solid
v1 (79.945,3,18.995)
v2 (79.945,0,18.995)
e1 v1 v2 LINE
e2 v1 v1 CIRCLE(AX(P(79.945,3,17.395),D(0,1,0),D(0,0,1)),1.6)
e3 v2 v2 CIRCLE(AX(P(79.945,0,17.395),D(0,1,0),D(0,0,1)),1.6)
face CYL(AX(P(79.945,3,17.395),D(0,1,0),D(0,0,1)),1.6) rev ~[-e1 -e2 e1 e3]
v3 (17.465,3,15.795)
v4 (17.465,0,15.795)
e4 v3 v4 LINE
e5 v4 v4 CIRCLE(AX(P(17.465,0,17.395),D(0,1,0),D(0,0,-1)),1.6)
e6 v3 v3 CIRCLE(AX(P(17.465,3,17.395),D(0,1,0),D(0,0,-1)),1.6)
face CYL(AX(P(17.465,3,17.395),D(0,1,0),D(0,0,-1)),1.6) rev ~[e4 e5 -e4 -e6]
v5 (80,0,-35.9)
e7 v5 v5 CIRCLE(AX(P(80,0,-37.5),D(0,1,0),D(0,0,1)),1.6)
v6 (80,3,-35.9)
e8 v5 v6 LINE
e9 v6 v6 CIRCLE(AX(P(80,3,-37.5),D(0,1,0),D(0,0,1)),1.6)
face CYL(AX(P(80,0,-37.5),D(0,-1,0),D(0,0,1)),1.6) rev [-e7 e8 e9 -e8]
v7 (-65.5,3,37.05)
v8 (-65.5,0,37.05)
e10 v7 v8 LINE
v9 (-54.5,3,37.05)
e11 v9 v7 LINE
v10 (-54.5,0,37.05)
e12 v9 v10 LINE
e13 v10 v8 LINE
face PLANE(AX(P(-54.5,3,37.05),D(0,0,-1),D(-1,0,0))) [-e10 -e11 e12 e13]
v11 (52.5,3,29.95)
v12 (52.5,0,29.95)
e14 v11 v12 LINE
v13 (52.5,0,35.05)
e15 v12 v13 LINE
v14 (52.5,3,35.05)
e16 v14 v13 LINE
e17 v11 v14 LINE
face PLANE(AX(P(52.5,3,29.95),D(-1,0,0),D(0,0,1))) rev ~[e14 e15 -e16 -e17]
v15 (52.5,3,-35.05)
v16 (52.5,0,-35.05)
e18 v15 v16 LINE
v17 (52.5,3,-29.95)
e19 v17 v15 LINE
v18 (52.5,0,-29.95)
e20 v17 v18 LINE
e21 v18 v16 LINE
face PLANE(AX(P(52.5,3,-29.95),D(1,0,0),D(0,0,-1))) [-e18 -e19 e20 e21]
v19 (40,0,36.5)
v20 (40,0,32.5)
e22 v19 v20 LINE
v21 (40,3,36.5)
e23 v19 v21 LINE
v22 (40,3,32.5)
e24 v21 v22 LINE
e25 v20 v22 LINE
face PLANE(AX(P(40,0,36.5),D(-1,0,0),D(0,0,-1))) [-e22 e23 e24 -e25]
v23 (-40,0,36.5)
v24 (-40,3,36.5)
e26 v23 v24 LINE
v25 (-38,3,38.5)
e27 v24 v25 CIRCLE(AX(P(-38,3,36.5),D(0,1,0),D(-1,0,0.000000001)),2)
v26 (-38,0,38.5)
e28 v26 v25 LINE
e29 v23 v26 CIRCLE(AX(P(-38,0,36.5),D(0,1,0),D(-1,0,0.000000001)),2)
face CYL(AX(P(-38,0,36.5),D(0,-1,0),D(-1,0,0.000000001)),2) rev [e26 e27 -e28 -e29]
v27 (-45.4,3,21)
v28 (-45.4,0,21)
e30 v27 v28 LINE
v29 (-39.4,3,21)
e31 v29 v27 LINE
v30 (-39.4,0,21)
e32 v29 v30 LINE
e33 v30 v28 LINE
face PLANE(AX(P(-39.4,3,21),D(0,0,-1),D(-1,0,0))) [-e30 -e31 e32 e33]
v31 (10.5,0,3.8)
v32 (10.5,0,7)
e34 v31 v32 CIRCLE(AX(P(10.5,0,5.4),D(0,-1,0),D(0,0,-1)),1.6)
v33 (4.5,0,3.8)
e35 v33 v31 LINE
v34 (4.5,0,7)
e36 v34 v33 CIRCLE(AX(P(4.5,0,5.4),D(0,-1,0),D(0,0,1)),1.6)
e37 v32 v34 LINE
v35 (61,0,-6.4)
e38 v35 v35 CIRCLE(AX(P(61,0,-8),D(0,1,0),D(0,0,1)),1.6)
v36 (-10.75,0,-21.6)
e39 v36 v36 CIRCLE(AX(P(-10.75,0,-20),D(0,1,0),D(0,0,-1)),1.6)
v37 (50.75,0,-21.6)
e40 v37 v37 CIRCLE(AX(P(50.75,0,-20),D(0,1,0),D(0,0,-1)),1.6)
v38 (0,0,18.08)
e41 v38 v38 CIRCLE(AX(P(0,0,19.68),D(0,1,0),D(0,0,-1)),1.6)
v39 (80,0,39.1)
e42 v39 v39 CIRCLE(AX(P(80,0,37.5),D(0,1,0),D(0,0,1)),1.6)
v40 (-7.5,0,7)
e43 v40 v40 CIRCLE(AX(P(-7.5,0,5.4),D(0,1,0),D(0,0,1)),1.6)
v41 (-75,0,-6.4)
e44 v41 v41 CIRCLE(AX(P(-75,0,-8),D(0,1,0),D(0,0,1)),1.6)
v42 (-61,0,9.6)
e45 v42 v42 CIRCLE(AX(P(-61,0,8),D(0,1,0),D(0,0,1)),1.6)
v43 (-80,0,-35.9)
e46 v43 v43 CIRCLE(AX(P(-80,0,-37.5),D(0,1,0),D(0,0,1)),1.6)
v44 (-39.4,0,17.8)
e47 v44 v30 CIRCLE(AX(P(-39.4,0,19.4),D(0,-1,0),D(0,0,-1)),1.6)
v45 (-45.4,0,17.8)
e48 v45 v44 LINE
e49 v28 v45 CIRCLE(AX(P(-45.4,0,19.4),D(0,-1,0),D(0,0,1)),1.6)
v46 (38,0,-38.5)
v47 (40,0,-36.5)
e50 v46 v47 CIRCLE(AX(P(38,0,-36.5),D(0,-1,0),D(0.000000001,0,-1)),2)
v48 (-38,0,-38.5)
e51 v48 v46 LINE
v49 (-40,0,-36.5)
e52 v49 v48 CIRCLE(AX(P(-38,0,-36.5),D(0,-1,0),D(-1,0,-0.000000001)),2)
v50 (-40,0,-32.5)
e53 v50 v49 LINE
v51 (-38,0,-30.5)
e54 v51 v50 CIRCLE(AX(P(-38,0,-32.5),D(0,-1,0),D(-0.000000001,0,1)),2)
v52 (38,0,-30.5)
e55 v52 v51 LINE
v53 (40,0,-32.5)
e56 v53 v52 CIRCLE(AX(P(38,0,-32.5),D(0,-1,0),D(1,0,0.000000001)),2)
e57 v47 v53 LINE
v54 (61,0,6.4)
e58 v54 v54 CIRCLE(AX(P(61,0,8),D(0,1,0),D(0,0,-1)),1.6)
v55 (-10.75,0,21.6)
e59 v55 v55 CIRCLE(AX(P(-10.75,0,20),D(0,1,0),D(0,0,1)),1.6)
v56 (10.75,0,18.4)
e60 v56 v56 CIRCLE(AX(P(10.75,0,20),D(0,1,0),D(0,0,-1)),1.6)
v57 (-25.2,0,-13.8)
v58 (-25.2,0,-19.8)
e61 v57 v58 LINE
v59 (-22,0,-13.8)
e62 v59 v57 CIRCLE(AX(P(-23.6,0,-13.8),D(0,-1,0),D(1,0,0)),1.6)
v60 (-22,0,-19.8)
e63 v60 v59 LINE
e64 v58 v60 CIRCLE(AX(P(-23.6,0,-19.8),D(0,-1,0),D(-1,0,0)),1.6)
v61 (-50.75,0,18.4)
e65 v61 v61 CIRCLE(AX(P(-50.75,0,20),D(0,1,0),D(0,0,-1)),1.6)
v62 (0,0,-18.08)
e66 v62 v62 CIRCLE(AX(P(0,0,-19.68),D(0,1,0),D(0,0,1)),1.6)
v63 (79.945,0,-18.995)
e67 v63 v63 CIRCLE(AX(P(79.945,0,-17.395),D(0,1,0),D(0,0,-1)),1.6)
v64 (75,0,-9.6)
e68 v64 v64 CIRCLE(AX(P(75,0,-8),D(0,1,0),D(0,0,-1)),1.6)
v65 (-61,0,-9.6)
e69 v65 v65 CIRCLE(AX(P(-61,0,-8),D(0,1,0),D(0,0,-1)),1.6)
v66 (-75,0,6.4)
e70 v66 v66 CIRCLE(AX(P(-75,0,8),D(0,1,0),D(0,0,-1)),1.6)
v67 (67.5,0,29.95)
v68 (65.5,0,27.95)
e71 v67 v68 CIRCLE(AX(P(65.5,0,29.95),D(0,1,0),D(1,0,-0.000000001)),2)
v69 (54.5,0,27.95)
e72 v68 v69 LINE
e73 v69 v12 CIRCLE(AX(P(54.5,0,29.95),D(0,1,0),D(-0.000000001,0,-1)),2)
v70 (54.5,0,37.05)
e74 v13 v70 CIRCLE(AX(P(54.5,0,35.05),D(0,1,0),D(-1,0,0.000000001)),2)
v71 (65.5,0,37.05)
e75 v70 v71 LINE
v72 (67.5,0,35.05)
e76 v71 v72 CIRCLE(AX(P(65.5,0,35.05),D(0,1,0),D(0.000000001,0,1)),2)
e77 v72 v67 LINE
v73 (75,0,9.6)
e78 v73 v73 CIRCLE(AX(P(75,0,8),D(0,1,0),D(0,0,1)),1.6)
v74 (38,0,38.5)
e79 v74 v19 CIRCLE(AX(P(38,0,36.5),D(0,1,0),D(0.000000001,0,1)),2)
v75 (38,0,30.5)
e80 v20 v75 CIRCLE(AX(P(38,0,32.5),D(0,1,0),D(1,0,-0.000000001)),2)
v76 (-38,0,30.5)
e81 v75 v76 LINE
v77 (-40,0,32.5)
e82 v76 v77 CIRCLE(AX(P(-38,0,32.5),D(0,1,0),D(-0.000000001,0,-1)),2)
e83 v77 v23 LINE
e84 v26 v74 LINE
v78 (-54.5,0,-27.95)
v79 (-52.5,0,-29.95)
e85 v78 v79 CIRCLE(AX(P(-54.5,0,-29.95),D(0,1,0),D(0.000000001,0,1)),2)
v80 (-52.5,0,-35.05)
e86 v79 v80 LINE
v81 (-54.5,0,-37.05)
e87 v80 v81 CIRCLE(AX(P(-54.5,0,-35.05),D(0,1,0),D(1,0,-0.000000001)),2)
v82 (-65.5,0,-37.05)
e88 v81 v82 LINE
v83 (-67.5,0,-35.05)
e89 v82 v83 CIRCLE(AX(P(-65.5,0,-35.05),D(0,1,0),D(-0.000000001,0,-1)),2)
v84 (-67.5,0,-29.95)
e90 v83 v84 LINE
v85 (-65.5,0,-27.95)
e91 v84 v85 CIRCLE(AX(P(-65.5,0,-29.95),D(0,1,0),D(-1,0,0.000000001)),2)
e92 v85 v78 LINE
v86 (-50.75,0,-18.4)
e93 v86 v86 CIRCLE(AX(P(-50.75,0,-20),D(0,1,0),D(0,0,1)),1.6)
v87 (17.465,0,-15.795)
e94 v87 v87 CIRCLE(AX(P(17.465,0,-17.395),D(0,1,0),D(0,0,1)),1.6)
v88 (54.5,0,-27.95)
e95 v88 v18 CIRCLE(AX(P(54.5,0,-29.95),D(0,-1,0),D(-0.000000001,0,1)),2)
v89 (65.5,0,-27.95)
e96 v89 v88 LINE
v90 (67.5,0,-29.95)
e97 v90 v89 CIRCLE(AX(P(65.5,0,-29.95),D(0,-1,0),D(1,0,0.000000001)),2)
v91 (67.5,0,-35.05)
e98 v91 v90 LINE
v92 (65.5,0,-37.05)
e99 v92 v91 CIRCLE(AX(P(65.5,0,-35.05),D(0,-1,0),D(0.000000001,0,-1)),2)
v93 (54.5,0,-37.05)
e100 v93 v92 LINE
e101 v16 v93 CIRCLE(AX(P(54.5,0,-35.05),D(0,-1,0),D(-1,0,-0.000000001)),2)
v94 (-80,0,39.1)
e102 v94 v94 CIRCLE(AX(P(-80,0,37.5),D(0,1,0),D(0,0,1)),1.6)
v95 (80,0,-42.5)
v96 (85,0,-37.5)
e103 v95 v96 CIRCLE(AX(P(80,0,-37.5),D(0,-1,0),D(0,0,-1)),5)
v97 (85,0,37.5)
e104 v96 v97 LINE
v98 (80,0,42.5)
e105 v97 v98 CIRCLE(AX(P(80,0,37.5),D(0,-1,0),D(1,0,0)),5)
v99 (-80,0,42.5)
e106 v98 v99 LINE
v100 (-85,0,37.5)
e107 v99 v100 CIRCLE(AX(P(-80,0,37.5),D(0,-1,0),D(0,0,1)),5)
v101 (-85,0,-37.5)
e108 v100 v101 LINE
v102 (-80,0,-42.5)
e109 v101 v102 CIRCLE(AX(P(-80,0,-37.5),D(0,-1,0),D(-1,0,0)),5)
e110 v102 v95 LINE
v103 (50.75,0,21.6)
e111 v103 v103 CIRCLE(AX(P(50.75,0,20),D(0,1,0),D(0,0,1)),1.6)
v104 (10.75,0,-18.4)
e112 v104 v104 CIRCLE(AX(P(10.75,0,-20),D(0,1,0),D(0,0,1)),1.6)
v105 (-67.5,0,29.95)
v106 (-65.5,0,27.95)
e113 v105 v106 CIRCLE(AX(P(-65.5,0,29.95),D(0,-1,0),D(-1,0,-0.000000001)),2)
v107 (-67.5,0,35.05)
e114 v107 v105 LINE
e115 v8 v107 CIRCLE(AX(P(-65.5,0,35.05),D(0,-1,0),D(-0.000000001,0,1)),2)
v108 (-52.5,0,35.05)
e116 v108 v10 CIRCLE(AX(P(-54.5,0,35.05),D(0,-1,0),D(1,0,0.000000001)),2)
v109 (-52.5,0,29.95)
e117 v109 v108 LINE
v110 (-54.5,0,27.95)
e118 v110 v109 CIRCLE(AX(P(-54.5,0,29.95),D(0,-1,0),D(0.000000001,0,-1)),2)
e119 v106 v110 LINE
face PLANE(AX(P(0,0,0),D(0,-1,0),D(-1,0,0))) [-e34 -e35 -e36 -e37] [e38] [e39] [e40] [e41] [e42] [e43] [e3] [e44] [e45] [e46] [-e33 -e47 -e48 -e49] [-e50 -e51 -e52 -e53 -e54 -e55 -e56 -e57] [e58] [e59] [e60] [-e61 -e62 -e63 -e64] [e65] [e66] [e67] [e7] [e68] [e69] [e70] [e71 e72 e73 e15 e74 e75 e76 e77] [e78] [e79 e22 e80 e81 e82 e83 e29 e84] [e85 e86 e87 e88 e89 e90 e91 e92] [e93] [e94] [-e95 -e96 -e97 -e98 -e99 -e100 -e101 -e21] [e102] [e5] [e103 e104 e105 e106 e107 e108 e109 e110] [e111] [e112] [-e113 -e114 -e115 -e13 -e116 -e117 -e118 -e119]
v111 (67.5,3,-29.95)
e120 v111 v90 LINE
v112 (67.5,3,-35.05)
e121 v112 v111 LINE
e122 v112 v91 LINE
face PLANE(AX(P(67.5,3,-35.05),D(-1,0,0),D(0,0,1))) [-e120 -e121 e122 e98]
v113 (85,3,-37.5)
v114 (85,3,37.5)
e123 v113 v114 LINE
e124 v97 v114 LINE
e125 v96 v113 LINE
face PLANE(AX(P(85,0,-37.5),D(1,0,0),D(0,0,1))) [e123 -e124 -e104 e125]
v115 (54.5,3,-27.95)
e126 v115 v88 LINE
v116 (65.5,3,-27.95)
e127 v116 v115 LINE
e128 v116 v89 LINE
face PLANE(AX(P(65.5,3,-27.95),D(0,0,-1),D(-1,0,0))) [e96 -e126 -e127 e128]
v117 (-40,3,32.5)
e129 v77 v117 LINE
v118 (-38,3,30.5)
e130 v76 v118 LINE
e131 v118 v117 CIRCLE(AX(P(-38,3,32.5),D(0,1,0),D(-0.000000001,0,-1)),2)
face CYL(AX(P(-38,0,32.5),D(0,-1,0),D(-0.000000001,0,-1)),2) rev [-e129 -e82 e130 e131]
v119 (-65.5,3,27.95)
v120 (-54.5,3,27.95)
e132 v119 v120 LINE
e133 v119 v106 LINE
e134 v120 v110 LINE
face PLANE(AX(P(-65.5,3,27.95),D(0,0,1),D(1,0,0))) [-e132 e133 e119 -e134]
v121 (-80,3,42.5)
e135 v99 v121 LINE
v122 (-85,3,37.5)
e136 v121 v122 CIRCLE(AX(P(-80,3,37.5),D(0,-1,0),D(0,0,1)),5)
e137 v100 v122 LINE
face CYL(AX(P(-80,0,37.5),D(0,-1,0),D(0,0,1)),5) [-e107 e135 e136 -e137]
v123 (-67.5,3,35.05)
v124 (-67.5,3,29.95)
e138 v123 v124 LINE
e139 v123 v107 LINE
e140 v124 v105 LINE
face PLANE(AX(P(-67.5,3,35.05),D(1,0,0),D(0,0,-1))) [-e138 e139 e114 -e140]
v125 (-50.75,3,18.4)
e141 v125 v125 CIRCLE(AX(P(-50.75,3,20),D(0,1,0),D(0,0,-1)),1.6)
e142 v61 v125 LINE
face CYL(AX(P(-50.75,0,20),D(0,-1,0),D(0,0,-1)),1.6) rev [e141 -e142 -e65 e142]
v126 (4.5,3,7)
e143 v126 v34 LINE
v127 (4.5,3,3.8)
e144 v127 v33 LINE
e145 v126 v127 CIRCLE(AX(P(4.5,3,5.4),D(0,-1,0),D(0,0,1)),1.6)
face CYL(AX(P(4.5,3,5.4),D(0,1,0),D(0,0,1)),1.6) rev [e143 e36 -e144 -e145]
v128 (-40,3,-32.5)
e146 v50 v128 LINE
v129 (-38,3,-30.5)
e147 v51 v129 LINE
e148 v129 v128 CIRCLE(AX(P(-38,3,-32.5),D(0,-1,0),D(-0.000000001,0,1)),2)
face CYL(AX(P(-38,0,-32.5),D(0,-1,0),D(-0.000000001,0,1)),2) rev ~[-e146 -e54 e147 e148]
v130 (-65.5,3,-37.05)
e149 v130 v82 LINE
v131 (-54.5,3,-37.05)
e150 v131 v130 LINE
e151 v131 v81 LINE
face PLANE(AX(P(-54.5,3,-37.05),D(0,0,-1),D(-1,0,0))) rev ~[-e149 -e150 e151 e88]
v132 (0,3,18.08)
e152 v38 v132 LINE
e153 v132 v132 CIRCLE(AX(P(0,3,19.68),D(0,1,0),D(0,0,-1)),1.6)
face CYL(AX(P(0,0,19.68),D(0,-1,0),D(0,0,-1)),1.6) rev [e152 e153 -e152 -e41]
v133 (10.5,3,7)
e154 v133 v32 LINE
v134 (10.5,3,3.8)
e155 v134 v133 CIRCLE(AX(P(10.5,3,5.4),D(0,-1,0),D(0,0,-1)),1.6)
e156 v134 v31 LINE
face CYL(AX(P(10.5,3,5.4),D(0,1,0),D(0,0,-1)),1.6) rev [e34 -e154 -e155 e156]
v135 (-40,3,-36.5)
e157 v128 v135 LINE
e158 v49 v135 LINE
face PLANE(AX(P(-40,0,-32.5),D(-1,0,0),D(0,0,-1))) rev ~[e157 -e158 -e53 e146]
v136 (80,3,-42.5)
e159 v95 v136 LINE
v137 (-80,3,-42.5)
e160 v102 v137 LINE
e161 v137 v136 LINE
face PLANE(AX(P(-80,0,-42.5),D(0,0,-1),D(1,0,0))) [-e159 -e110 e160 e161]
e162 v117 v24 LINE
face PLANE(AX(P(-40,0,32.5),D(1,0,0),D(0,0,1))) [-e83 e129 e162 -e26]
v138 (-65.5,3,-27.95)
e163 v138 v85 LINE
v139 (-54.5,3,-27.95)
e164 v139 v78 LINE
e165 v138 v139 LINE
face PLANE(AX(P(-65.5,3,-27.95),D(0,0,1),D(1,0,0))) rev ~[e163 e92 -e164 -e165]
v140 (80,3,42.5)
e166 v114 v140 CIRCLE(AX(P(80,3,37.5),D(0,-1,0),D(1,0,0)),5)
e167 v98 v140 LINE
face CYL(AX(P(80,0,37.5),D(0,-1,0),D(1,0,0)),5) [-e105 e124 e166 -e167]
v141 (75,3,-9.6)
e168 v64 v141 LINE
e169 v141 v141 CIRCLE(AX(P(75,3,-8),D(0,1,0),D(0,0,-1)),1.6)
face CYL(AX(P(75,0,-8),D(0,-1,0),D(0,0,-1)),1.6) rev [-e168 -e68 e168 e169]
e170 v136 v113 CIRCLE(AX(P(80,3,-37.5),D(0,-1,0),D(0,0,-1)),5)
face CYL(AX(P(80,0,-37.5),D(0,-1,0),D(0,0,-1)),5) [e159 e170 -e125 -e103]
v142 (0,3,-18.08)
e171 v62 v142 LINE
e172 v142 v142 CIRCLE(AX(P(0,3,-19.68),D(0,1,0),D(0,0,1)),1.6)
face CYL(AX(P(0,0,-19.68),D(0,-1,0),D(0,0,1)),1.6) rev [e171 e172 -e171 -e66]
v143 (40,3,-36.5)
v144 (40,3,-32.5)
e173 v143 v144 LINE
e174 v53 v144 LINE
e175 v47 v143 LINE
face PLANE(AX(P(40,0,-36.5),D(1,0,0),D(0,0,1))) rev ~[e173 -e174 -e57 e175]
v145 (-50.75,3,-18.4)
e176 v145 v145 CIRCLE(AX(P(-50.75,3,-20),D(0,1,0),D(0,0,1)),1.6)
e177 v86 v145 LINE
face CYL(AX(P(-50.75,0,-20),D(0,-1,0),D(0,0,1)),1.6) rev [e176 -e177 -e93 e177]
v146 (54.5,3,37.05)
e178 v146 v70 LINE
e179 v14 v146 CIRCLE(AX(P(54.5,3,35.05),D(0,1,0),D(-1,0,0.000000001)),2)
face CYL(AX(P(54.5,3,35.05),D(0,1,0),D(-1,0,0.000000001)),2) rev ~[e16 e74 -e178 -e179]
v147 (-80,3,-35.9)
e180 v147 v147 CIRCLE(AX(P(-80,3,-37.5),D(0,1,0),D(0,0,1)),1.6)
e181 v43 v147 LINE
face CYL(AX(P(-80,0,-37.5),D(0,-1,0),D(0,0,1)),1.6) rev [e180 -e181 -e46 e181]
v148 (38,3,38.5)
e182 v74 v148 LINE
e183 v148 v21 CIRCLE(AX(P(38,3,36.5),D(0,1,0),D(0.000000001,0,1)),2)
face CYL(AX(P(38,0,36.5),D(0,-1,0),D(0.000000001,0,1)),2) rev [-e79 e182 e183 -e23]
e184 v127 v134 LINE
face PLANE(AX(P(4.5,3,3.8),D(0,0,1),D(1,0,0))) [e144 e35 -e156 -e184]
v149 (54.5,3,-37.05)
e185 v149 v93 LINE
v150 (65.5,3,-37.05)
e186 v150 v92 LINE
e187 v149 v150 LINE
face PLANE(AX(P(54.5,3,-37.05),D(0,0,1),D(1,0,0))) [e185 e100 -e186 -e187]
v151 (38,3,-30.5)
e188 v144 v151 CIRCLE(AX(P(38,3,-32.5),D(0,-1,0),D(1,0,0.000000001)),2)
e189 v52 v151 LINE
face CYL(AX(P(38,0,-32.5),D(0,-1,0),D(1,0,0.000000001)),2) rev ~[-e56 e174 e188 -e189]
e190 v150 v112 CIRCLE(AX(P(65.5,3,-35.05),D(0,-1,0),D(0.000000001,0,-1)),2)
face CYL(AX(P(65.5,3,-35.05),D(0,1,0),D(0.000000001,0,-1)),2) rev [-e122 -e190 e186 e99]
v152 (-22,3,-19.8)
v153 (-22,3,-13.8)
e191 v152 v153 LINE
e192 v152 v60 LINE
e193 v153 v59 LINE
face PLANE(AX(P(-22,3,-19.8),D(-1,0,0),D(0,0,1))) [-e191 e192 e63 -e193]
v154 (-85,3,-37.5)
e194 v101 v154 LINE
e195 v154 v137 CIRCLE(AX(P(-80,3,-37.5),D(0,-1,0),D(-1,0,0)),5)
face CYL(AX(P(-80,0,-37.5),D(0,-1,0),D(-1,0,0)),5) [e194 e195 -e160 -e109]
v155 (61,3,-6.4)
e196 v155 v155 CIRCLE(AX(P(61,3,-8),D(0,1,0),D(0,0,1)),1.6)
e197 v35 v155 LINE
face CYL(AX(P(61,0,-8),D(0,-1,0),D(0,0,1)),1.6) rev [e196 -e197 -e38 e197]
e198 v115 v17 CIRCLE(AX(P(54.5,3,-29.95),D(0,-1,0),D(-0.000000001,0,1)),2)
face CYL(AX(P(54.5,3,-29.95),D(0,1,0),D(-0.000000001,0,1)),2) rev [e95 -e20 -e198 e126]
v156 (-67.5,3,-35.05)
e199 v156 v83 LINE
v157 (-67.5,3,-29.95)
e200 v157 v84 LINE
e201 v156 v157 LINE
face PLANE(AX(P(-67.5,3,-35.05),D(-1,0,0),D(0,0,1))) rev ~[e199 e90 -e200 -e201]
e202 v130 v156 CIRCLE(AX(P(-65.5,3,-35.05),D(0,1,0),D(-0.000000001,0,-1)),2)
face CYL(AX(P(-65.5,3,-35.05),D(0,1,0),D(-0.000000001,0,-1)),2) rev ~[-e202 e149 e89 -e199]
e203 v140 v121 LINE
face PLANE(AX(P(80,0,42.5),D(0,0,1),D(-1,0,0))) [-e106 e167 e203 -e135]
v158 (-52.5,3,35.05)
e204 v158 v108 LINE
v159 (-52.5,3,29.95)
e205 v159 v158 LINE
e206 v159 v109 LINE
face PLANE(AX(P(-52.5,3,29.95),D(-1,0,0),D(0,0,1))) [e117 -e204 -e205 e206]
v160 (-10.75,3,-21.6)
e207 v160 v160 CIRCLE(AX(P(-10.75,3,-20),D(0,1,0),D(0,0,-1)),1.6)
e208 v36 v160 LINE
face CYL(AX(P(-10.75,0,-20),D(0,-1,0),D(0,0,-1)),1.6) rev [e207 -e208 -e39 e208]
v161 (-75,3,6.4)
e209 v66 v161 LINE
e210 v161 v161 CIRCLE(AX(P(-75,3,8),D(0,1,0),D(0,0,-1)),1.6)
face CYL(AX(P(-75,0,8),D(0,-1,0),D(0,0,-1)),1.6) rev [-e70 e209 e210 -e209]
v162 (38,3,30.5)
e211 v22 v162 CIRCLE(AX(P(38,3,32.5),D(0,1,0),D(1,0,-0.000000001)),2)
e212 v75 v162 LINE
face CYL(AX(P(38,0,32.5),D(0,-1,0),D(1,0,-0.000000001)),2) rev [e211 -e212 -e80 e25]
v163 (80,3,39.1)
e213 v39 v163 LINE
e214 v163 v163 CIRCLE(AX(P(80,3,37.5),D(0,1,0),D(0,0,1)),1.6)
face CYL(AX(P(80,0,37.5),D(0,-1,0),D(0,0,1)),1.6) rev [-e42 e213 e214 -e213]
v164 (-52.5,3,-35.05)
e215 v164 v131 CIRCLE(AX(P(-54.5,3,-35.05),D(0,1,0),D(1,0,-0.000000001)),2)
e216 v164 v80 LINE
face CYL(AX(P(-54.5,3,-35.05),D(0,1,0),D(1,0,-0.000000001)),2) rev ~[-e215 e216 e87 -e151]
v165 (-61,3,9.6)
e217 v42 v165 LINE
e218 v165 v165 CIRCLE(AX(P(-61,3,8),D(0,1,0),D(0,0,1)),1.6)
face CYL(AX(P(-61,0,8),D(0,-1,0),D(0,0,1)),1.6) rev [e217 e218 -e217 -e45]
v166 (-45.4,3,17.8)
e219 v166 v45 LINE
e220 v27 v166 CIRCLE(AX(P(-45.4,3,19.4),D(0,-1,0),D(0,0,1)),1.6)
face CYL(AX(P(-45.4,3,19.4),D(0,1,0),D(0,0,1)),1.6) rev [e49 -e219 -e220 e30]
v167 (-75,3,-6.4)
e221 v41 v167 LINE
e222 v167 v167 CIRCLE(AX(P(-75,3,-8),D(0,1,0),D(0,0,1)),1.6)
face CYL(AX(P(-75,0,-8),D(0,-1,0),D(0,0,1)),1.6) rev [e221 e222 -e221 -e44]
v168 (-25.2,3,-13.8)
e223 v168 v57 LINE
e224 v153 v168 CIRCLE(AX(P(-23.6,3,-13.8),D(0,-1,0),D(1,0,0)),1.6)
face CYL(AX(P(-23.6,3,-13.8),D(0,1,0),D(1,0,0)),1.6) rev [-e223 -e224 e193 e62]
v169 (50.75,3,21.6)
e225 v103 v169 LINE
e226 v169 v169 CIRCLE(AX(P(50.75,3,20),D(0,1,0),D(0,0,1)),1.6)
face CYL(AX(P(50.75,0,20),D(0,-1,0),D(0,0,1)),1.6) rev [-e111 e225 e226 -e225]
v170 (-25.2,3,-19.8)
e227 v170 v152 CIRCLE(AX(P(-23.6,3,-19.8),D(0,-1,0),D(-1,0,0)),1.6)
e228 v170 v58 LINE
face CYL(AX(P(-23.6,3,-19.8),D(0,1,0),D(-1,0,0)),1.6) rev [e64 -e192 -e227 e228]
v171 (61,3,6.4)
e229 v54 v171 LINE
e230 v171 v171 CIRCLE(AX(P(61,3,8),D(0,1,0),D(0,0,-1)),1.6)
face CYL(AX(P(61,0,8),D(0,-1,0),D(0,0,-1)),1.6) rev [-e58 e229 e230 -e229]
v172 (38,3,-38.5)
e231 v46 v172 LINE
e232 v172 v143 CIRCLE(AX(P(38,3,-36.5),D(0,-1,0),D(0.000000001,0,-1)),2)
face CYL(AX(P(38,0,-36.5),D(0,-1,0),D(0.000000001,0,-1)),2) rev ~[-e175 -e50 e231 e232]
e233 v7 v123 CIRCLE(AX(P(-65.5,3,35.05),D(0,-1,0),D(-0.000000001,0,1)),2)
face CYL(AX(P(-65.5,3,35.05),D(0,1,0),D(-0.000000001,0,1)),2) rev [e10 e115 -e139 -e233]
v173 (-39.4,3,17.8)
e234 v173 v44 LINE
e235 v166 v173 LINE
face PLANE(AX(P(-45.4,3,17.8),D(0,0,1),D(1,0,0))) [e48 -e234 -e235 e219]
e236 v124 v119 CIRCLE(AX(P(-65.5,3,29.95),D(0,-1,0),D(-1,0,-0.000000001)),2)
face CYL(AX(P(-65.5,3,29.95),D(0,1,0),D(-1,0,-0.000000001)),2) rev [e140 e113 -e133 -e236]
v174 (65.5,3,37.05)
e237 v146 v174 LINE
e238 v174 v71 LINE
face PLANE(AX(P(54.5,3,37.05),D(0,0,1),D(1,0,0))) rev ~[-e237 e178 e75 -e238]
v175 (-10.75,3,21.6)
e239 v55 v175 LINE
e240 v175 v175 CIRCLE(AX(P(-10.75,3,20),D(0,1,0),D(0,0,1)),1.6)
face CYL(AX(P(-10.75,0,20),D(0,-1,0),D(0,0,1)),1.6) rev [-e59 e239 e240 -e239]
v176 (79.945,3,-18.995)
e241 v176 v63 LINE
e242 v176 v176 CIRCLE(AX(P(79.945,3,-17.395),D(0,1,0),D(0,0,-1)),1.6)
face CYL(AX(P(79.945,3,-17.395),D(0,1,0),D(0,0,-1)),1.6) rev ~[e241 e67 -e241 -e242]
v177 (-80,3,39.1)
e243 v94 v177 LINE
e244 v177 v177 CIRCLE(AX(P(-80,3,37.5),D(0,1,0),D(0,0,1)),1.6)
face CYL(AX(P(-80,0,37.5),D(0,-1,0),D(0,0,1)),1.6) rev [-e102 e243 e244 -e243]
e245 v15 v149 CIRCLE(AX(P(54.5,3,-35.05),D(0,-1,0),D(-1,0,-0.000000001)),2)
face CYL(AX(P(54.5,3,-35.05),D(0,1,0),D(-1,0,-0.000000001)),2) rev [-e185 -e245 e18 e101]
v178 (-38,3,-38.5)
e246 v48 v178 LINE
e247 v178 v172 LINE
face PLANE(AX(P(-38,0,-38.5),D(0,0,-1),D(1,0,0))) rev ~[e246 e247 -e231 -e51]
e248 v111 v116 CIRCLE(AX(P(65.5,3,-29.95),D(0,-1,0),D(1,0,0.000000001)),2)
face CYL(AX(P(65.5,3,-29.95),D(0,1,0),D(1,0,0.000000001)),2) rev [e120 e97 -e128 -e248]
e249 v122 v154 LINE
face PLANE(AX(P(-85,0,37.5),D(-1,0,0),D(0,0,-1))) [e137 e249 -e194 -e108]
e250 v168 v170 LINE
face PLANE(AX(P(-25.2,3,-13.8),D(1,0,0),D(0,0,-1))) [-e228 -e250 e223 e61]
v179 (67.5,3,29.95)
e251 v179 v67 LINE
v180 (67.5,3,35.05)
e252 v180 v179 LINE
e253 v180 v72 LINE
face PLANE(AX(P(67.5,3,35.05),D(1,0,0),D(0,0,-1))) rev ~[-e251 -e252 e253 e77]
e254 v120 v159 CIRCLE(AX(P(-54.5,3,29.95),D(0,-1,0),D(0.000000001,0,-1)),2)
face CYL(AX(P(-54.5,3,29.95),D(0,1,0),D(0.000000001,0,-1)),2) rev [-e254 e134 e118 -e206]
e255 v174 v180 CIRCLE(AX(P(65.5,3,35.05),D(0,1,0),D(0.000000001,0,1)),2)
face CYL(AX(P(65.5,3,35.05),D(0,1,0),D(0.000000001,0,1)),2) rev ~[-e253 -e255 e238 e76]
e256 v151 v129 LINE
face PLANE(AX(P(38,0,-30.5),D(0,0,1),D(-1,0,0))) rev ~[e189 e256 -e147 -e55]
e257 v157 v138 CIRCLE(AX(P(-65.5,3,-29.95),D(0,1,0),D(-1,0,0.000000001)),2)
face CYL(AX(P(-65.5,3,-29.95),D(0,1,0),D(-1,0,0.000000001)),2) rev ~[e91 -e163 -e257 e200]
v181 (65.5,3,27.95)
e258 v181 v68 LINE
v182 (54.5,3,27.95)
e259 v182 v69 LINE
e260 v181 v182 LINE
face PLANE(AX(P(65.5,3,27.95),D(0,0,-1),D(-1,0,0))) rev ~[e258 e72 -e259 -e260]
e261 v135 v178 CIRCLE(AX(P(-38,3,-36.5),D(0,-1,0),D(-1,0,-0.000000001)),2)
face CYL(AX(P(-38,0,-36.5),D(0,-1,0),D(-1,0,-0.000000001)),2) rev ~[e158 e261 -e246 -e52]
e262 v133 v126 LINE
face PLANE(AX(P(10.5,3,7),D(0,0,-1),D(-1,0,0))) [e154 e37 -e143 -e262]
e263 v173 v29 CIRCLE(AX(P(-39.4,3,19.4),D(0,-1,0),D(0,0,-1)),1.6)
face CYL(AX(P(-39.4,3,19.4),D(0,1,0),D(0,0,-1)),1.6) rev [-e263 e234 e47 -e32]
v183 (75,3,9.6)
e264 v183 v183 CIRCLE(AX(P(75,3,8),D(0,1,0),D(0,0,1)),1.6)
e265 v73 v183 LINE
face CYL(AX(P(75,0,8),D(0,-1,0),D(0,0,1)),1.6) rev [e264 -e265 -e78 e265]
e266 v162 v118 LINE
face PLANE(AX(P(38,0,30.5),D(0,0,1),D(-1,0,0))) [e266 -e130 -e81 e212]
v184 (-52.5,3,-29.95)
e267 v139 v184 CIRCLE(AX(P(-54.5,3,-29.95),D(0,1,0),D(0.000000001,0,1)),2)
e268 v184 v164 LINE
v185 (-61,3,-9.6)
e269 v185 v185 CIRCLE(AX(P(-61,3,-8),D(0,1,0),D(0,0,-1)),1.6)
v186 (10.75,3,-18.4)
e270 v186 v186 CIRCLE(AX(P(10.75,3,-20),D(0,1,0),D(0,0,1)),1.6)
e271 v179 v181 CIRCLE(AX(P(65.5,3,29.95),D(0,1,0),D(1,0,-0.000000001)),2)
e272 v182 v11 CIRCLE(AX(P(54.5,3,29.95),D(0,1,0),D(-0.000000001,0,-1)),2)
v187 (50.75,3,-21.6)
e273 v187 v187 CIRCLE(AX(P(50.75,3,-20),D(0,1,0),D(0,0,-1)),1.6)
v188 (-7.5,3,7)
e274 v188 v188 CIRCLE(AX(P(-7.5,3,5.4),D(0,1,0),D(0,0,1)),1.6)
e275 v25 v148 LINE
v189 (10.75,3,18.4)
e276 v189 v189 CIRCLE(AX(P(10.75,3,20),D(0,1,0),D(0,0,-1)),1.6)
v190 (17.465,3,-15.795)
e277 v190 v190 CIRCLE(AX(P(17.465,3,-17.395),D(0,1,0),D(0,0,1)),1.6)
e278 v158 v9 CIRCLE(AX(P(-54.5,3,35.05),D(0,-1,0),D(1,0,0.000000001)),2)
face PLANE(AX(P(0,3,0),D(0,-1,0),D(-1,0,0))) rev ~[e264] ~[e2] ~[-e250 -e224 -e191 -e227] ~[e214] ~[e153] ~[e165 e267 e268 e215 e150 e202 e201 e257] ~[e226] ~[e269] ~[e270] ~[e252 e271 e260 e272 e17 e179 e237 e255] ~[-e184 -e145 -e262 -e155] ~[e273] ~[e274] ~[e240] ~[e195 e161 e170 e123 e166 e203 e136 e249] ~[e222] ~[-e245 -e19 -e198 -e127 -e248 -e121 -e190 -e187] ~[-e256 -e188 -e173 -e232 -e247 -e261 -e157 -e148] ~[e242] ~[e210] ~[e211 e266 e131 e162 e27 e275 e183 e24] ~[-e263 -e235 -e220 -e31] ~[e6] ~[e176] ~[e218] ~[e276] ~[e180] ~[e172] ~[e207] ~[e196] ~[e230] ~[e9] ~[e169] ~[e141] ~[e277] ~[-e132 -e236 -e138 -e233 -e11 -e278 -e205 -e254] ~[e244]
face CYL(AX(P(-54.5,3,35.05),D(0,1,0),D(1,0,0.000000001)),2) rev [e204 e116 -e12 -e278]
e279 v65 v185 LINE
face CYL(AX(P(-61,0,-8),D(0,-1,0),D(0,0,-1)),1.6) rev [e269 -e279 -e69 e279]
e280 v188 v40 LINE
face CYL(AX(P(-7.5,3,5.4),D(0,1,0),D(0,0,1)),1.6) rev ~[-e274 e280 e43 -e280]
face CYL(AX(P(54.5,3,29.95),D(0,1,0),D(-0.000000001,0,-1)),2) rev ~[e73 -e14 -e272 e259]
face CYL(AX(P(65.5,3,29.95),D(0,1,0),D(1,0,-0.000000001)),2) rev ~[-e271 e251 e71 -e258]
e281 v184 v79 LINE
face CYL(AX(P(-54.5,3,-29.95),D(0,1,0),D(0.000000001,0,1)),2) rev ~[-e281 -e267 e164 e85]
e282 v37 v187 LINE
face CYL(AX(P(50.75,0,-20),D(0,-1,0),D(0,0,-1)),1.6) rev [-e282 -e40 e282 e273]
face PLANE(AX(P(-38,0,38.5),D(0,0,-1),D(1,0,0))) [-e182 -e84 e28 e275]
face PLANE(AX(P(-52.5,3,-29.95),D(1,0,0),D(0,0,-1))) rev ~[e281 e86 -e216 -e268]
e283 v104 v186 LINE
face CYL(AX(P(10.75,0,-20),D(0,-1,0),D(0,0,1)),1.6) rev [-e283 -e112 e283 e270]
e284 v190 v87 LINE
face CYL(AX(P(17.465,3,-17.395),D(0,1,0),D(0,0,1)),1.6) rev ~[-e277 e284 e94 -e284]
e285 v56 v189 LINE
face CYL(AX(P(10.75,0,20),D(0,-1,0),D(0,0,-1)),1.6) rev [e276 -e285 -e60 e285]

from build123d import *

# Parameters (mm, degrees)
SKETCH1_R           = 1.6
BOSS_EXTRUDE1_DEPTH = 3
CUT_EXTRUDE1_DEPTH  = 3
SKETCH3_R           = 1.6
CUT_EXTRUDE2_DEPTH  = 3


with BuildPart() as part:
    # Sketch1 → Boss-Extrude1 (new body)
    with BuildSketch(Plane(origin=(0, 0, 0), x_dir=(1, 0, 0), z_dir=(0, 1, 0))):
        with BuildLine():
            Line((-80, 42.5), (80, 42.5))
            ThreePointArc((80, 42.5), (83.535533906, 41.035533906), (85, 37.5))
            Line((85, 37.5), (85, -37.5))
            ThreePointArc((85, -37.5), (83.535533906, -41.035533906), (80, -42.5))
            Line((80, -42.5), (-80, -42.5))
            ThreePointArc((-80, -42.5), (-83.535533906, -41.035533906), (-85, -37.5))
            Line((-85, -37.5), (-85, 37.5))
            ThreePointArc((-85, 37.5), (-83.535533906, 41.035533906), (-80, 42.5))
        make_face()
        with Locations(Location((-80, 37.5, 0), (0, 0, 270))):
            Circle(SKETCH1_R, mode=Mode.SUBTRACT)
        with Locations(Location((80, 37.5, 0), (0, 0, 270))):
            Circle(SKETCH1_R, mode=Mode.SUBTRACT)
        with Locations(Location((-80, -37.5, 0), (0, 0, 270))):
            Circle(SKETCH1_R, mode=Mode.SUBTRACT)
        with Locations(Location((80, -37.5, 0), (0, 0, 270))):
            Circle(SKETCH1_R, mode=Mode.SUBTRACT)
        with Locations(Location((-75, 8, 0), (0, 0, 270))):
            Circle(SKETCH1_R, mode=Mode.SUBTRACT)
        with Locations(Location((-75, -8, 0), (0, 0, 90))):
            Circle(SKETCH1_R, mode=Mode.SUBTRACT)
        with Locations(Location((-61, -8, 0), (0, 0, 270))):
            Circle(SKETCH1_R, mode=Mode.SUBTRACT)
        with Locations(Location((-61, 8, 0), (0, 0, 90))):
            Circle(SKETCH1_R, mode=Mode.SUBTRACT)
        with Locations(Location((61, -8, 0), (0, 0, 90))):
            Circle(SKETCH1_R, mode=Mode.SUBTRACT)
        with Locations(Location((75, -8, 0), (0, 0, 270))):
            Circle(SKETCH1_R, mode=Mode.SUBTRACT)
        with Locations(Location((61, 8, 0), (0, 0, 270))):
            Circle(SKETCH1_R, mode=Mode.SUBTRACT)
        with Locations(Location((75, 8, 0), (0, 0, 90))):
            Circle(SKETCH1_R, mode=Mode.SUBTRACT)
        with Locations(Location((-50.75, 20, 0), (0, 0, 270))):
            Circle(SKETCH1_R, mode=Mode.SUBTRACT)
        with Locations(Location((-10.75, 20, 0), (0, 0, 90))):
            Circle(SKETCH1_R, mode=Mode.SUBTRACT)
        with Locations(Location((-10.75, -20, 0), (0, 0, 270))):
            Circle(SKETCH1_R, mode=Mode.SUBTRACT)
        with Locations(Location((-50.75, -20, 0), (0, 0, 90))):
            Circle(SKETCH1_R, mode=Mode.SUBTRACT)
        with Locations(Location((50.75, -20, 0), (0, 0, 270))):
            Circle(SKETCH1_R, mode=Mode.SUBTRACT)
        with Locations(Location((10.75, -20, 0), (0, 0, 90))):
            Circle(SKETCH1_R, mode=Mode.SUBTRACT)
        with Locations(Location((10.75, 20, 0), (0, 0, 270))):
            Circle(SKETCH1_R, mode=Mode.SUBTRACT)
        with Locations(Location((50.75, 20, 0), (0, 0, 90))):
            Circle(SKETCH1_R, mode=Mode.SUBTRACT)
        with Locations(Location((0, 19.68, 0), (0, 0, 270))):
            Circle(SKETCH1_R, mode=Mode.SUBTRACT)
        with Locations(Location((0, -19.68, 0), (0, 0, 90))):
            Circle(SKETCH1_R, mode=Mode.SUBTRACT)
        with BuildLine():
            Line((-38, 38.5), (38, 38.5))
            ThreePointArc((38, 38.5), (39.414213562, 37.914213562), (40, 36.5))
            Line((40, 36.5), (40, 32.5))
            ThreePointArc((40, 32.5), (39.414213562, 31.085786438), (38, 30.5))
            Line((38, 30.5), (-38, 30.5))
            ThreePointArc((-38, 30.5), (-39.414213562, 31.085786438), (-40, 32.5))
            Line((-40, 32.5), (-40, 36.5))
            ThreePointArc((-40, 36.5), (-39.414213562, 37.914213562), (-38, 38.5))
        make_face(mode=Mode.SUBTRACT)
        with BuildLine():
            Line((40, -36.5), (40, -32.5))
            ThreePointArc((40, -32.5), (39.414213562, -31.085786438), (38, -30.5))
            Line((38, -30.5), (-38, -30.5))
            ThreePointArc((-38, -30.5), (-39.414213562, -31.085786438), (-40, -32.5))
            Line((-40, -32.5), (-40, -36.5))
            ThreePointArc((-40, -36.5), (-39.414213562, -37.914213562), (-38, -38.5))
            Line((-38, -38.5), (38, -38.5))
            ThreePointArc((38, -38.5), (39.414213562, -37.914213562), (40, -36.5))
        make_face(mode=Mode.SUBTRACT)
    extrude(amount=BOSS_EXTRUDE1_DEPTH)

    # Sketch2 → Cut-Extrude1 (cut)
    with BuildSketch(Plane(origin=(0, 3, 0), x_dir=(1, 0, 0), z_dir=(0, 1, 0))):
        with BuildLine():
            Line((54.5, 37.05), (65.5, 37.05))
            ThreePointArc((65.5, 37.05), (66.914213562, 36.464213562), (67.5, 35.05))
            Line((67.5, 35.05), (67.5, 29.95))
            ThreePointArc((67.5, 29.95), (66.914213562, 28.535786438), (65.5, 27.95))
            Line((65.5, 27.95), (54.5, 27.95))
            ThreePointArc((54.5, 27.95), (53.085786438, 28.535786438), (52.5, 29.95))
            Line((52.5, 29.95), (52.5, 35.05))
            ThreePointArc((52.5, 35.05), (53.085786438, 36.464213562), (54.5, 37.05))
        make_face()
        with BuildLine():
            Line((67.5, -35.05), (67.5, -29.95))
            ThreePointArc((67.5, -29.95), (66.914213562, -28.535786438), (65.5, -27.95))
            Line((65.5, -27.95), (54.5, -27.95))
            ThreePointArc((54.5, -27.95), (53.085786438, -28.535786438), (52.5, -29.95))
            Line((52.5, -29.95), (52.5, -35.05))
            ThreePointArc((52.5, -35.05), (53.085786438, -36.464213562), (54.5, -37.05))
            Line((54.5, -37.05), (65.5, -37.05))
            ThreePointArc((65.5, -37.05), (66.914213562, -36.464213562), (67.5, -35.05))
        make_face()
        with BuildLine():
            Line((-54.5, -37.05), (-65.5, -37.05))
            ThreePointArc((-65.5, -37.05), (-66.914213562, -36.464213562), (-67.5, -35.05))
            Line((-67.5, -35.05), (-67.5, -29.95))
            ThreePointArc((-67.5, -29.95), (-66.914213562, -28.535786438), (-65.5, -27.95))
            Line((-65.5, -27.95), (-54.5, -27.95))
            ThreePointArc((-54.5, -27.95), (-53.085786438, -28.535786438), (-52.5, -29.95))
            Line((-52.5, -29.95), (-52.5, -35.05))
            ThreePointArc((-52.5, -35.05), (-53.085786438, -36.464213562), (-54.5, -37.05))
        make_face()
        with BuildLine():
            Line((-67.5, 35.05), (-67.5, 29.95))
            ThreePointArc((-67.5, 29.95), (-66.914213562, 28.535786438), (-65.5, 27.95))
            Line((-65.5, 27.95), (-54.5, 27.95))
            ThreePointArc((-54.5, 27.95), (-53.085786438, 28.535786438), (-52.5, 29.95))
            Line((-52.5, 29.95), (-52.5, 35.05))
            ThreePointArc((-52.5, 35.05), (-53.085786438, 36.464213562), (-54.5, 37.05))
            Line((-54.5, 37.05), (-65.5, 37.05))
            ThreePointArc((-65.5, 37.05), (-66.914213562, 36.464213562), (-67.5, 35.05))
        make_face()
    extrude(amount=-CUT_EXTRUDE1_DEPTH, mode=Mode.SUBTRACT)

    # Sketch3 → Cut-Extrude2 (cut)
    with BuildSketch(Plane(origin=(0, 3, 0), x_dir=(1, 0, 0), z_dir=(0, 1, 0))):
        with Locations(Location((-7.5, -5.4, 0), (0, 0, 270))):
            Circle(SKETCH3_R)
        with Locations(Location((17.465, 17.395, 0), (0, 0, 270))):
            Circle(SKETCH3_R)
        with Locations(Location((17.465, -17.395, 0), (0, 0, 90))):
            Circle(SKETCH3_R)
        with Locations(Location((79.945, -17.395, 0), (0, 0, 270))):
            Circle(SKETCH3_R)
        with Locations(Location((79.945, 17.395, 0), (0, 0, 90))):
            Circle(SKETCH3_R)
        with BuildLine():
            Line((4.5, -3.8), (10.5, -3.8))
            ThreePointArc((10.5, -3.8), (12.1, -5.4), (10.5, -7))
            Line((10.5, -7), (4.5, -7))
            ThreePointArc((4.5, -7), (2.9, -5.4), (4.5, -3.8))
        make_face()
        with BuildLine():
            Line((-25.2, 13.8), (-25.2, 19.8))
            ThreePointArc((-25.2, 19.8), (-23.6, 21.4), (-22, 19.8))
            Line((-22, 19.8), (-22, 13.8))
            ThreePointArc((-22, 13.8), (-23.6, 12.2), (-25.2, 13.8))
        make_face()
        with BuildLine():
            Line((-39.4, -21), (-45.4, -21))
            ThreePointArc((-45.4, -21), (-47, -19.4), (-45.4, -17.8))
            Line((-45.4, -17.8), (-39.4, -17.8))
            ThreePointArc((-39.4, -17.8), (-37.8, -19.4), (-39.4, -21))
        make_face()
    extrude(amount=-CUT_EXTRUDE2_DEPTH, mode=Mode.SUBTRACT)


solid = part.part
